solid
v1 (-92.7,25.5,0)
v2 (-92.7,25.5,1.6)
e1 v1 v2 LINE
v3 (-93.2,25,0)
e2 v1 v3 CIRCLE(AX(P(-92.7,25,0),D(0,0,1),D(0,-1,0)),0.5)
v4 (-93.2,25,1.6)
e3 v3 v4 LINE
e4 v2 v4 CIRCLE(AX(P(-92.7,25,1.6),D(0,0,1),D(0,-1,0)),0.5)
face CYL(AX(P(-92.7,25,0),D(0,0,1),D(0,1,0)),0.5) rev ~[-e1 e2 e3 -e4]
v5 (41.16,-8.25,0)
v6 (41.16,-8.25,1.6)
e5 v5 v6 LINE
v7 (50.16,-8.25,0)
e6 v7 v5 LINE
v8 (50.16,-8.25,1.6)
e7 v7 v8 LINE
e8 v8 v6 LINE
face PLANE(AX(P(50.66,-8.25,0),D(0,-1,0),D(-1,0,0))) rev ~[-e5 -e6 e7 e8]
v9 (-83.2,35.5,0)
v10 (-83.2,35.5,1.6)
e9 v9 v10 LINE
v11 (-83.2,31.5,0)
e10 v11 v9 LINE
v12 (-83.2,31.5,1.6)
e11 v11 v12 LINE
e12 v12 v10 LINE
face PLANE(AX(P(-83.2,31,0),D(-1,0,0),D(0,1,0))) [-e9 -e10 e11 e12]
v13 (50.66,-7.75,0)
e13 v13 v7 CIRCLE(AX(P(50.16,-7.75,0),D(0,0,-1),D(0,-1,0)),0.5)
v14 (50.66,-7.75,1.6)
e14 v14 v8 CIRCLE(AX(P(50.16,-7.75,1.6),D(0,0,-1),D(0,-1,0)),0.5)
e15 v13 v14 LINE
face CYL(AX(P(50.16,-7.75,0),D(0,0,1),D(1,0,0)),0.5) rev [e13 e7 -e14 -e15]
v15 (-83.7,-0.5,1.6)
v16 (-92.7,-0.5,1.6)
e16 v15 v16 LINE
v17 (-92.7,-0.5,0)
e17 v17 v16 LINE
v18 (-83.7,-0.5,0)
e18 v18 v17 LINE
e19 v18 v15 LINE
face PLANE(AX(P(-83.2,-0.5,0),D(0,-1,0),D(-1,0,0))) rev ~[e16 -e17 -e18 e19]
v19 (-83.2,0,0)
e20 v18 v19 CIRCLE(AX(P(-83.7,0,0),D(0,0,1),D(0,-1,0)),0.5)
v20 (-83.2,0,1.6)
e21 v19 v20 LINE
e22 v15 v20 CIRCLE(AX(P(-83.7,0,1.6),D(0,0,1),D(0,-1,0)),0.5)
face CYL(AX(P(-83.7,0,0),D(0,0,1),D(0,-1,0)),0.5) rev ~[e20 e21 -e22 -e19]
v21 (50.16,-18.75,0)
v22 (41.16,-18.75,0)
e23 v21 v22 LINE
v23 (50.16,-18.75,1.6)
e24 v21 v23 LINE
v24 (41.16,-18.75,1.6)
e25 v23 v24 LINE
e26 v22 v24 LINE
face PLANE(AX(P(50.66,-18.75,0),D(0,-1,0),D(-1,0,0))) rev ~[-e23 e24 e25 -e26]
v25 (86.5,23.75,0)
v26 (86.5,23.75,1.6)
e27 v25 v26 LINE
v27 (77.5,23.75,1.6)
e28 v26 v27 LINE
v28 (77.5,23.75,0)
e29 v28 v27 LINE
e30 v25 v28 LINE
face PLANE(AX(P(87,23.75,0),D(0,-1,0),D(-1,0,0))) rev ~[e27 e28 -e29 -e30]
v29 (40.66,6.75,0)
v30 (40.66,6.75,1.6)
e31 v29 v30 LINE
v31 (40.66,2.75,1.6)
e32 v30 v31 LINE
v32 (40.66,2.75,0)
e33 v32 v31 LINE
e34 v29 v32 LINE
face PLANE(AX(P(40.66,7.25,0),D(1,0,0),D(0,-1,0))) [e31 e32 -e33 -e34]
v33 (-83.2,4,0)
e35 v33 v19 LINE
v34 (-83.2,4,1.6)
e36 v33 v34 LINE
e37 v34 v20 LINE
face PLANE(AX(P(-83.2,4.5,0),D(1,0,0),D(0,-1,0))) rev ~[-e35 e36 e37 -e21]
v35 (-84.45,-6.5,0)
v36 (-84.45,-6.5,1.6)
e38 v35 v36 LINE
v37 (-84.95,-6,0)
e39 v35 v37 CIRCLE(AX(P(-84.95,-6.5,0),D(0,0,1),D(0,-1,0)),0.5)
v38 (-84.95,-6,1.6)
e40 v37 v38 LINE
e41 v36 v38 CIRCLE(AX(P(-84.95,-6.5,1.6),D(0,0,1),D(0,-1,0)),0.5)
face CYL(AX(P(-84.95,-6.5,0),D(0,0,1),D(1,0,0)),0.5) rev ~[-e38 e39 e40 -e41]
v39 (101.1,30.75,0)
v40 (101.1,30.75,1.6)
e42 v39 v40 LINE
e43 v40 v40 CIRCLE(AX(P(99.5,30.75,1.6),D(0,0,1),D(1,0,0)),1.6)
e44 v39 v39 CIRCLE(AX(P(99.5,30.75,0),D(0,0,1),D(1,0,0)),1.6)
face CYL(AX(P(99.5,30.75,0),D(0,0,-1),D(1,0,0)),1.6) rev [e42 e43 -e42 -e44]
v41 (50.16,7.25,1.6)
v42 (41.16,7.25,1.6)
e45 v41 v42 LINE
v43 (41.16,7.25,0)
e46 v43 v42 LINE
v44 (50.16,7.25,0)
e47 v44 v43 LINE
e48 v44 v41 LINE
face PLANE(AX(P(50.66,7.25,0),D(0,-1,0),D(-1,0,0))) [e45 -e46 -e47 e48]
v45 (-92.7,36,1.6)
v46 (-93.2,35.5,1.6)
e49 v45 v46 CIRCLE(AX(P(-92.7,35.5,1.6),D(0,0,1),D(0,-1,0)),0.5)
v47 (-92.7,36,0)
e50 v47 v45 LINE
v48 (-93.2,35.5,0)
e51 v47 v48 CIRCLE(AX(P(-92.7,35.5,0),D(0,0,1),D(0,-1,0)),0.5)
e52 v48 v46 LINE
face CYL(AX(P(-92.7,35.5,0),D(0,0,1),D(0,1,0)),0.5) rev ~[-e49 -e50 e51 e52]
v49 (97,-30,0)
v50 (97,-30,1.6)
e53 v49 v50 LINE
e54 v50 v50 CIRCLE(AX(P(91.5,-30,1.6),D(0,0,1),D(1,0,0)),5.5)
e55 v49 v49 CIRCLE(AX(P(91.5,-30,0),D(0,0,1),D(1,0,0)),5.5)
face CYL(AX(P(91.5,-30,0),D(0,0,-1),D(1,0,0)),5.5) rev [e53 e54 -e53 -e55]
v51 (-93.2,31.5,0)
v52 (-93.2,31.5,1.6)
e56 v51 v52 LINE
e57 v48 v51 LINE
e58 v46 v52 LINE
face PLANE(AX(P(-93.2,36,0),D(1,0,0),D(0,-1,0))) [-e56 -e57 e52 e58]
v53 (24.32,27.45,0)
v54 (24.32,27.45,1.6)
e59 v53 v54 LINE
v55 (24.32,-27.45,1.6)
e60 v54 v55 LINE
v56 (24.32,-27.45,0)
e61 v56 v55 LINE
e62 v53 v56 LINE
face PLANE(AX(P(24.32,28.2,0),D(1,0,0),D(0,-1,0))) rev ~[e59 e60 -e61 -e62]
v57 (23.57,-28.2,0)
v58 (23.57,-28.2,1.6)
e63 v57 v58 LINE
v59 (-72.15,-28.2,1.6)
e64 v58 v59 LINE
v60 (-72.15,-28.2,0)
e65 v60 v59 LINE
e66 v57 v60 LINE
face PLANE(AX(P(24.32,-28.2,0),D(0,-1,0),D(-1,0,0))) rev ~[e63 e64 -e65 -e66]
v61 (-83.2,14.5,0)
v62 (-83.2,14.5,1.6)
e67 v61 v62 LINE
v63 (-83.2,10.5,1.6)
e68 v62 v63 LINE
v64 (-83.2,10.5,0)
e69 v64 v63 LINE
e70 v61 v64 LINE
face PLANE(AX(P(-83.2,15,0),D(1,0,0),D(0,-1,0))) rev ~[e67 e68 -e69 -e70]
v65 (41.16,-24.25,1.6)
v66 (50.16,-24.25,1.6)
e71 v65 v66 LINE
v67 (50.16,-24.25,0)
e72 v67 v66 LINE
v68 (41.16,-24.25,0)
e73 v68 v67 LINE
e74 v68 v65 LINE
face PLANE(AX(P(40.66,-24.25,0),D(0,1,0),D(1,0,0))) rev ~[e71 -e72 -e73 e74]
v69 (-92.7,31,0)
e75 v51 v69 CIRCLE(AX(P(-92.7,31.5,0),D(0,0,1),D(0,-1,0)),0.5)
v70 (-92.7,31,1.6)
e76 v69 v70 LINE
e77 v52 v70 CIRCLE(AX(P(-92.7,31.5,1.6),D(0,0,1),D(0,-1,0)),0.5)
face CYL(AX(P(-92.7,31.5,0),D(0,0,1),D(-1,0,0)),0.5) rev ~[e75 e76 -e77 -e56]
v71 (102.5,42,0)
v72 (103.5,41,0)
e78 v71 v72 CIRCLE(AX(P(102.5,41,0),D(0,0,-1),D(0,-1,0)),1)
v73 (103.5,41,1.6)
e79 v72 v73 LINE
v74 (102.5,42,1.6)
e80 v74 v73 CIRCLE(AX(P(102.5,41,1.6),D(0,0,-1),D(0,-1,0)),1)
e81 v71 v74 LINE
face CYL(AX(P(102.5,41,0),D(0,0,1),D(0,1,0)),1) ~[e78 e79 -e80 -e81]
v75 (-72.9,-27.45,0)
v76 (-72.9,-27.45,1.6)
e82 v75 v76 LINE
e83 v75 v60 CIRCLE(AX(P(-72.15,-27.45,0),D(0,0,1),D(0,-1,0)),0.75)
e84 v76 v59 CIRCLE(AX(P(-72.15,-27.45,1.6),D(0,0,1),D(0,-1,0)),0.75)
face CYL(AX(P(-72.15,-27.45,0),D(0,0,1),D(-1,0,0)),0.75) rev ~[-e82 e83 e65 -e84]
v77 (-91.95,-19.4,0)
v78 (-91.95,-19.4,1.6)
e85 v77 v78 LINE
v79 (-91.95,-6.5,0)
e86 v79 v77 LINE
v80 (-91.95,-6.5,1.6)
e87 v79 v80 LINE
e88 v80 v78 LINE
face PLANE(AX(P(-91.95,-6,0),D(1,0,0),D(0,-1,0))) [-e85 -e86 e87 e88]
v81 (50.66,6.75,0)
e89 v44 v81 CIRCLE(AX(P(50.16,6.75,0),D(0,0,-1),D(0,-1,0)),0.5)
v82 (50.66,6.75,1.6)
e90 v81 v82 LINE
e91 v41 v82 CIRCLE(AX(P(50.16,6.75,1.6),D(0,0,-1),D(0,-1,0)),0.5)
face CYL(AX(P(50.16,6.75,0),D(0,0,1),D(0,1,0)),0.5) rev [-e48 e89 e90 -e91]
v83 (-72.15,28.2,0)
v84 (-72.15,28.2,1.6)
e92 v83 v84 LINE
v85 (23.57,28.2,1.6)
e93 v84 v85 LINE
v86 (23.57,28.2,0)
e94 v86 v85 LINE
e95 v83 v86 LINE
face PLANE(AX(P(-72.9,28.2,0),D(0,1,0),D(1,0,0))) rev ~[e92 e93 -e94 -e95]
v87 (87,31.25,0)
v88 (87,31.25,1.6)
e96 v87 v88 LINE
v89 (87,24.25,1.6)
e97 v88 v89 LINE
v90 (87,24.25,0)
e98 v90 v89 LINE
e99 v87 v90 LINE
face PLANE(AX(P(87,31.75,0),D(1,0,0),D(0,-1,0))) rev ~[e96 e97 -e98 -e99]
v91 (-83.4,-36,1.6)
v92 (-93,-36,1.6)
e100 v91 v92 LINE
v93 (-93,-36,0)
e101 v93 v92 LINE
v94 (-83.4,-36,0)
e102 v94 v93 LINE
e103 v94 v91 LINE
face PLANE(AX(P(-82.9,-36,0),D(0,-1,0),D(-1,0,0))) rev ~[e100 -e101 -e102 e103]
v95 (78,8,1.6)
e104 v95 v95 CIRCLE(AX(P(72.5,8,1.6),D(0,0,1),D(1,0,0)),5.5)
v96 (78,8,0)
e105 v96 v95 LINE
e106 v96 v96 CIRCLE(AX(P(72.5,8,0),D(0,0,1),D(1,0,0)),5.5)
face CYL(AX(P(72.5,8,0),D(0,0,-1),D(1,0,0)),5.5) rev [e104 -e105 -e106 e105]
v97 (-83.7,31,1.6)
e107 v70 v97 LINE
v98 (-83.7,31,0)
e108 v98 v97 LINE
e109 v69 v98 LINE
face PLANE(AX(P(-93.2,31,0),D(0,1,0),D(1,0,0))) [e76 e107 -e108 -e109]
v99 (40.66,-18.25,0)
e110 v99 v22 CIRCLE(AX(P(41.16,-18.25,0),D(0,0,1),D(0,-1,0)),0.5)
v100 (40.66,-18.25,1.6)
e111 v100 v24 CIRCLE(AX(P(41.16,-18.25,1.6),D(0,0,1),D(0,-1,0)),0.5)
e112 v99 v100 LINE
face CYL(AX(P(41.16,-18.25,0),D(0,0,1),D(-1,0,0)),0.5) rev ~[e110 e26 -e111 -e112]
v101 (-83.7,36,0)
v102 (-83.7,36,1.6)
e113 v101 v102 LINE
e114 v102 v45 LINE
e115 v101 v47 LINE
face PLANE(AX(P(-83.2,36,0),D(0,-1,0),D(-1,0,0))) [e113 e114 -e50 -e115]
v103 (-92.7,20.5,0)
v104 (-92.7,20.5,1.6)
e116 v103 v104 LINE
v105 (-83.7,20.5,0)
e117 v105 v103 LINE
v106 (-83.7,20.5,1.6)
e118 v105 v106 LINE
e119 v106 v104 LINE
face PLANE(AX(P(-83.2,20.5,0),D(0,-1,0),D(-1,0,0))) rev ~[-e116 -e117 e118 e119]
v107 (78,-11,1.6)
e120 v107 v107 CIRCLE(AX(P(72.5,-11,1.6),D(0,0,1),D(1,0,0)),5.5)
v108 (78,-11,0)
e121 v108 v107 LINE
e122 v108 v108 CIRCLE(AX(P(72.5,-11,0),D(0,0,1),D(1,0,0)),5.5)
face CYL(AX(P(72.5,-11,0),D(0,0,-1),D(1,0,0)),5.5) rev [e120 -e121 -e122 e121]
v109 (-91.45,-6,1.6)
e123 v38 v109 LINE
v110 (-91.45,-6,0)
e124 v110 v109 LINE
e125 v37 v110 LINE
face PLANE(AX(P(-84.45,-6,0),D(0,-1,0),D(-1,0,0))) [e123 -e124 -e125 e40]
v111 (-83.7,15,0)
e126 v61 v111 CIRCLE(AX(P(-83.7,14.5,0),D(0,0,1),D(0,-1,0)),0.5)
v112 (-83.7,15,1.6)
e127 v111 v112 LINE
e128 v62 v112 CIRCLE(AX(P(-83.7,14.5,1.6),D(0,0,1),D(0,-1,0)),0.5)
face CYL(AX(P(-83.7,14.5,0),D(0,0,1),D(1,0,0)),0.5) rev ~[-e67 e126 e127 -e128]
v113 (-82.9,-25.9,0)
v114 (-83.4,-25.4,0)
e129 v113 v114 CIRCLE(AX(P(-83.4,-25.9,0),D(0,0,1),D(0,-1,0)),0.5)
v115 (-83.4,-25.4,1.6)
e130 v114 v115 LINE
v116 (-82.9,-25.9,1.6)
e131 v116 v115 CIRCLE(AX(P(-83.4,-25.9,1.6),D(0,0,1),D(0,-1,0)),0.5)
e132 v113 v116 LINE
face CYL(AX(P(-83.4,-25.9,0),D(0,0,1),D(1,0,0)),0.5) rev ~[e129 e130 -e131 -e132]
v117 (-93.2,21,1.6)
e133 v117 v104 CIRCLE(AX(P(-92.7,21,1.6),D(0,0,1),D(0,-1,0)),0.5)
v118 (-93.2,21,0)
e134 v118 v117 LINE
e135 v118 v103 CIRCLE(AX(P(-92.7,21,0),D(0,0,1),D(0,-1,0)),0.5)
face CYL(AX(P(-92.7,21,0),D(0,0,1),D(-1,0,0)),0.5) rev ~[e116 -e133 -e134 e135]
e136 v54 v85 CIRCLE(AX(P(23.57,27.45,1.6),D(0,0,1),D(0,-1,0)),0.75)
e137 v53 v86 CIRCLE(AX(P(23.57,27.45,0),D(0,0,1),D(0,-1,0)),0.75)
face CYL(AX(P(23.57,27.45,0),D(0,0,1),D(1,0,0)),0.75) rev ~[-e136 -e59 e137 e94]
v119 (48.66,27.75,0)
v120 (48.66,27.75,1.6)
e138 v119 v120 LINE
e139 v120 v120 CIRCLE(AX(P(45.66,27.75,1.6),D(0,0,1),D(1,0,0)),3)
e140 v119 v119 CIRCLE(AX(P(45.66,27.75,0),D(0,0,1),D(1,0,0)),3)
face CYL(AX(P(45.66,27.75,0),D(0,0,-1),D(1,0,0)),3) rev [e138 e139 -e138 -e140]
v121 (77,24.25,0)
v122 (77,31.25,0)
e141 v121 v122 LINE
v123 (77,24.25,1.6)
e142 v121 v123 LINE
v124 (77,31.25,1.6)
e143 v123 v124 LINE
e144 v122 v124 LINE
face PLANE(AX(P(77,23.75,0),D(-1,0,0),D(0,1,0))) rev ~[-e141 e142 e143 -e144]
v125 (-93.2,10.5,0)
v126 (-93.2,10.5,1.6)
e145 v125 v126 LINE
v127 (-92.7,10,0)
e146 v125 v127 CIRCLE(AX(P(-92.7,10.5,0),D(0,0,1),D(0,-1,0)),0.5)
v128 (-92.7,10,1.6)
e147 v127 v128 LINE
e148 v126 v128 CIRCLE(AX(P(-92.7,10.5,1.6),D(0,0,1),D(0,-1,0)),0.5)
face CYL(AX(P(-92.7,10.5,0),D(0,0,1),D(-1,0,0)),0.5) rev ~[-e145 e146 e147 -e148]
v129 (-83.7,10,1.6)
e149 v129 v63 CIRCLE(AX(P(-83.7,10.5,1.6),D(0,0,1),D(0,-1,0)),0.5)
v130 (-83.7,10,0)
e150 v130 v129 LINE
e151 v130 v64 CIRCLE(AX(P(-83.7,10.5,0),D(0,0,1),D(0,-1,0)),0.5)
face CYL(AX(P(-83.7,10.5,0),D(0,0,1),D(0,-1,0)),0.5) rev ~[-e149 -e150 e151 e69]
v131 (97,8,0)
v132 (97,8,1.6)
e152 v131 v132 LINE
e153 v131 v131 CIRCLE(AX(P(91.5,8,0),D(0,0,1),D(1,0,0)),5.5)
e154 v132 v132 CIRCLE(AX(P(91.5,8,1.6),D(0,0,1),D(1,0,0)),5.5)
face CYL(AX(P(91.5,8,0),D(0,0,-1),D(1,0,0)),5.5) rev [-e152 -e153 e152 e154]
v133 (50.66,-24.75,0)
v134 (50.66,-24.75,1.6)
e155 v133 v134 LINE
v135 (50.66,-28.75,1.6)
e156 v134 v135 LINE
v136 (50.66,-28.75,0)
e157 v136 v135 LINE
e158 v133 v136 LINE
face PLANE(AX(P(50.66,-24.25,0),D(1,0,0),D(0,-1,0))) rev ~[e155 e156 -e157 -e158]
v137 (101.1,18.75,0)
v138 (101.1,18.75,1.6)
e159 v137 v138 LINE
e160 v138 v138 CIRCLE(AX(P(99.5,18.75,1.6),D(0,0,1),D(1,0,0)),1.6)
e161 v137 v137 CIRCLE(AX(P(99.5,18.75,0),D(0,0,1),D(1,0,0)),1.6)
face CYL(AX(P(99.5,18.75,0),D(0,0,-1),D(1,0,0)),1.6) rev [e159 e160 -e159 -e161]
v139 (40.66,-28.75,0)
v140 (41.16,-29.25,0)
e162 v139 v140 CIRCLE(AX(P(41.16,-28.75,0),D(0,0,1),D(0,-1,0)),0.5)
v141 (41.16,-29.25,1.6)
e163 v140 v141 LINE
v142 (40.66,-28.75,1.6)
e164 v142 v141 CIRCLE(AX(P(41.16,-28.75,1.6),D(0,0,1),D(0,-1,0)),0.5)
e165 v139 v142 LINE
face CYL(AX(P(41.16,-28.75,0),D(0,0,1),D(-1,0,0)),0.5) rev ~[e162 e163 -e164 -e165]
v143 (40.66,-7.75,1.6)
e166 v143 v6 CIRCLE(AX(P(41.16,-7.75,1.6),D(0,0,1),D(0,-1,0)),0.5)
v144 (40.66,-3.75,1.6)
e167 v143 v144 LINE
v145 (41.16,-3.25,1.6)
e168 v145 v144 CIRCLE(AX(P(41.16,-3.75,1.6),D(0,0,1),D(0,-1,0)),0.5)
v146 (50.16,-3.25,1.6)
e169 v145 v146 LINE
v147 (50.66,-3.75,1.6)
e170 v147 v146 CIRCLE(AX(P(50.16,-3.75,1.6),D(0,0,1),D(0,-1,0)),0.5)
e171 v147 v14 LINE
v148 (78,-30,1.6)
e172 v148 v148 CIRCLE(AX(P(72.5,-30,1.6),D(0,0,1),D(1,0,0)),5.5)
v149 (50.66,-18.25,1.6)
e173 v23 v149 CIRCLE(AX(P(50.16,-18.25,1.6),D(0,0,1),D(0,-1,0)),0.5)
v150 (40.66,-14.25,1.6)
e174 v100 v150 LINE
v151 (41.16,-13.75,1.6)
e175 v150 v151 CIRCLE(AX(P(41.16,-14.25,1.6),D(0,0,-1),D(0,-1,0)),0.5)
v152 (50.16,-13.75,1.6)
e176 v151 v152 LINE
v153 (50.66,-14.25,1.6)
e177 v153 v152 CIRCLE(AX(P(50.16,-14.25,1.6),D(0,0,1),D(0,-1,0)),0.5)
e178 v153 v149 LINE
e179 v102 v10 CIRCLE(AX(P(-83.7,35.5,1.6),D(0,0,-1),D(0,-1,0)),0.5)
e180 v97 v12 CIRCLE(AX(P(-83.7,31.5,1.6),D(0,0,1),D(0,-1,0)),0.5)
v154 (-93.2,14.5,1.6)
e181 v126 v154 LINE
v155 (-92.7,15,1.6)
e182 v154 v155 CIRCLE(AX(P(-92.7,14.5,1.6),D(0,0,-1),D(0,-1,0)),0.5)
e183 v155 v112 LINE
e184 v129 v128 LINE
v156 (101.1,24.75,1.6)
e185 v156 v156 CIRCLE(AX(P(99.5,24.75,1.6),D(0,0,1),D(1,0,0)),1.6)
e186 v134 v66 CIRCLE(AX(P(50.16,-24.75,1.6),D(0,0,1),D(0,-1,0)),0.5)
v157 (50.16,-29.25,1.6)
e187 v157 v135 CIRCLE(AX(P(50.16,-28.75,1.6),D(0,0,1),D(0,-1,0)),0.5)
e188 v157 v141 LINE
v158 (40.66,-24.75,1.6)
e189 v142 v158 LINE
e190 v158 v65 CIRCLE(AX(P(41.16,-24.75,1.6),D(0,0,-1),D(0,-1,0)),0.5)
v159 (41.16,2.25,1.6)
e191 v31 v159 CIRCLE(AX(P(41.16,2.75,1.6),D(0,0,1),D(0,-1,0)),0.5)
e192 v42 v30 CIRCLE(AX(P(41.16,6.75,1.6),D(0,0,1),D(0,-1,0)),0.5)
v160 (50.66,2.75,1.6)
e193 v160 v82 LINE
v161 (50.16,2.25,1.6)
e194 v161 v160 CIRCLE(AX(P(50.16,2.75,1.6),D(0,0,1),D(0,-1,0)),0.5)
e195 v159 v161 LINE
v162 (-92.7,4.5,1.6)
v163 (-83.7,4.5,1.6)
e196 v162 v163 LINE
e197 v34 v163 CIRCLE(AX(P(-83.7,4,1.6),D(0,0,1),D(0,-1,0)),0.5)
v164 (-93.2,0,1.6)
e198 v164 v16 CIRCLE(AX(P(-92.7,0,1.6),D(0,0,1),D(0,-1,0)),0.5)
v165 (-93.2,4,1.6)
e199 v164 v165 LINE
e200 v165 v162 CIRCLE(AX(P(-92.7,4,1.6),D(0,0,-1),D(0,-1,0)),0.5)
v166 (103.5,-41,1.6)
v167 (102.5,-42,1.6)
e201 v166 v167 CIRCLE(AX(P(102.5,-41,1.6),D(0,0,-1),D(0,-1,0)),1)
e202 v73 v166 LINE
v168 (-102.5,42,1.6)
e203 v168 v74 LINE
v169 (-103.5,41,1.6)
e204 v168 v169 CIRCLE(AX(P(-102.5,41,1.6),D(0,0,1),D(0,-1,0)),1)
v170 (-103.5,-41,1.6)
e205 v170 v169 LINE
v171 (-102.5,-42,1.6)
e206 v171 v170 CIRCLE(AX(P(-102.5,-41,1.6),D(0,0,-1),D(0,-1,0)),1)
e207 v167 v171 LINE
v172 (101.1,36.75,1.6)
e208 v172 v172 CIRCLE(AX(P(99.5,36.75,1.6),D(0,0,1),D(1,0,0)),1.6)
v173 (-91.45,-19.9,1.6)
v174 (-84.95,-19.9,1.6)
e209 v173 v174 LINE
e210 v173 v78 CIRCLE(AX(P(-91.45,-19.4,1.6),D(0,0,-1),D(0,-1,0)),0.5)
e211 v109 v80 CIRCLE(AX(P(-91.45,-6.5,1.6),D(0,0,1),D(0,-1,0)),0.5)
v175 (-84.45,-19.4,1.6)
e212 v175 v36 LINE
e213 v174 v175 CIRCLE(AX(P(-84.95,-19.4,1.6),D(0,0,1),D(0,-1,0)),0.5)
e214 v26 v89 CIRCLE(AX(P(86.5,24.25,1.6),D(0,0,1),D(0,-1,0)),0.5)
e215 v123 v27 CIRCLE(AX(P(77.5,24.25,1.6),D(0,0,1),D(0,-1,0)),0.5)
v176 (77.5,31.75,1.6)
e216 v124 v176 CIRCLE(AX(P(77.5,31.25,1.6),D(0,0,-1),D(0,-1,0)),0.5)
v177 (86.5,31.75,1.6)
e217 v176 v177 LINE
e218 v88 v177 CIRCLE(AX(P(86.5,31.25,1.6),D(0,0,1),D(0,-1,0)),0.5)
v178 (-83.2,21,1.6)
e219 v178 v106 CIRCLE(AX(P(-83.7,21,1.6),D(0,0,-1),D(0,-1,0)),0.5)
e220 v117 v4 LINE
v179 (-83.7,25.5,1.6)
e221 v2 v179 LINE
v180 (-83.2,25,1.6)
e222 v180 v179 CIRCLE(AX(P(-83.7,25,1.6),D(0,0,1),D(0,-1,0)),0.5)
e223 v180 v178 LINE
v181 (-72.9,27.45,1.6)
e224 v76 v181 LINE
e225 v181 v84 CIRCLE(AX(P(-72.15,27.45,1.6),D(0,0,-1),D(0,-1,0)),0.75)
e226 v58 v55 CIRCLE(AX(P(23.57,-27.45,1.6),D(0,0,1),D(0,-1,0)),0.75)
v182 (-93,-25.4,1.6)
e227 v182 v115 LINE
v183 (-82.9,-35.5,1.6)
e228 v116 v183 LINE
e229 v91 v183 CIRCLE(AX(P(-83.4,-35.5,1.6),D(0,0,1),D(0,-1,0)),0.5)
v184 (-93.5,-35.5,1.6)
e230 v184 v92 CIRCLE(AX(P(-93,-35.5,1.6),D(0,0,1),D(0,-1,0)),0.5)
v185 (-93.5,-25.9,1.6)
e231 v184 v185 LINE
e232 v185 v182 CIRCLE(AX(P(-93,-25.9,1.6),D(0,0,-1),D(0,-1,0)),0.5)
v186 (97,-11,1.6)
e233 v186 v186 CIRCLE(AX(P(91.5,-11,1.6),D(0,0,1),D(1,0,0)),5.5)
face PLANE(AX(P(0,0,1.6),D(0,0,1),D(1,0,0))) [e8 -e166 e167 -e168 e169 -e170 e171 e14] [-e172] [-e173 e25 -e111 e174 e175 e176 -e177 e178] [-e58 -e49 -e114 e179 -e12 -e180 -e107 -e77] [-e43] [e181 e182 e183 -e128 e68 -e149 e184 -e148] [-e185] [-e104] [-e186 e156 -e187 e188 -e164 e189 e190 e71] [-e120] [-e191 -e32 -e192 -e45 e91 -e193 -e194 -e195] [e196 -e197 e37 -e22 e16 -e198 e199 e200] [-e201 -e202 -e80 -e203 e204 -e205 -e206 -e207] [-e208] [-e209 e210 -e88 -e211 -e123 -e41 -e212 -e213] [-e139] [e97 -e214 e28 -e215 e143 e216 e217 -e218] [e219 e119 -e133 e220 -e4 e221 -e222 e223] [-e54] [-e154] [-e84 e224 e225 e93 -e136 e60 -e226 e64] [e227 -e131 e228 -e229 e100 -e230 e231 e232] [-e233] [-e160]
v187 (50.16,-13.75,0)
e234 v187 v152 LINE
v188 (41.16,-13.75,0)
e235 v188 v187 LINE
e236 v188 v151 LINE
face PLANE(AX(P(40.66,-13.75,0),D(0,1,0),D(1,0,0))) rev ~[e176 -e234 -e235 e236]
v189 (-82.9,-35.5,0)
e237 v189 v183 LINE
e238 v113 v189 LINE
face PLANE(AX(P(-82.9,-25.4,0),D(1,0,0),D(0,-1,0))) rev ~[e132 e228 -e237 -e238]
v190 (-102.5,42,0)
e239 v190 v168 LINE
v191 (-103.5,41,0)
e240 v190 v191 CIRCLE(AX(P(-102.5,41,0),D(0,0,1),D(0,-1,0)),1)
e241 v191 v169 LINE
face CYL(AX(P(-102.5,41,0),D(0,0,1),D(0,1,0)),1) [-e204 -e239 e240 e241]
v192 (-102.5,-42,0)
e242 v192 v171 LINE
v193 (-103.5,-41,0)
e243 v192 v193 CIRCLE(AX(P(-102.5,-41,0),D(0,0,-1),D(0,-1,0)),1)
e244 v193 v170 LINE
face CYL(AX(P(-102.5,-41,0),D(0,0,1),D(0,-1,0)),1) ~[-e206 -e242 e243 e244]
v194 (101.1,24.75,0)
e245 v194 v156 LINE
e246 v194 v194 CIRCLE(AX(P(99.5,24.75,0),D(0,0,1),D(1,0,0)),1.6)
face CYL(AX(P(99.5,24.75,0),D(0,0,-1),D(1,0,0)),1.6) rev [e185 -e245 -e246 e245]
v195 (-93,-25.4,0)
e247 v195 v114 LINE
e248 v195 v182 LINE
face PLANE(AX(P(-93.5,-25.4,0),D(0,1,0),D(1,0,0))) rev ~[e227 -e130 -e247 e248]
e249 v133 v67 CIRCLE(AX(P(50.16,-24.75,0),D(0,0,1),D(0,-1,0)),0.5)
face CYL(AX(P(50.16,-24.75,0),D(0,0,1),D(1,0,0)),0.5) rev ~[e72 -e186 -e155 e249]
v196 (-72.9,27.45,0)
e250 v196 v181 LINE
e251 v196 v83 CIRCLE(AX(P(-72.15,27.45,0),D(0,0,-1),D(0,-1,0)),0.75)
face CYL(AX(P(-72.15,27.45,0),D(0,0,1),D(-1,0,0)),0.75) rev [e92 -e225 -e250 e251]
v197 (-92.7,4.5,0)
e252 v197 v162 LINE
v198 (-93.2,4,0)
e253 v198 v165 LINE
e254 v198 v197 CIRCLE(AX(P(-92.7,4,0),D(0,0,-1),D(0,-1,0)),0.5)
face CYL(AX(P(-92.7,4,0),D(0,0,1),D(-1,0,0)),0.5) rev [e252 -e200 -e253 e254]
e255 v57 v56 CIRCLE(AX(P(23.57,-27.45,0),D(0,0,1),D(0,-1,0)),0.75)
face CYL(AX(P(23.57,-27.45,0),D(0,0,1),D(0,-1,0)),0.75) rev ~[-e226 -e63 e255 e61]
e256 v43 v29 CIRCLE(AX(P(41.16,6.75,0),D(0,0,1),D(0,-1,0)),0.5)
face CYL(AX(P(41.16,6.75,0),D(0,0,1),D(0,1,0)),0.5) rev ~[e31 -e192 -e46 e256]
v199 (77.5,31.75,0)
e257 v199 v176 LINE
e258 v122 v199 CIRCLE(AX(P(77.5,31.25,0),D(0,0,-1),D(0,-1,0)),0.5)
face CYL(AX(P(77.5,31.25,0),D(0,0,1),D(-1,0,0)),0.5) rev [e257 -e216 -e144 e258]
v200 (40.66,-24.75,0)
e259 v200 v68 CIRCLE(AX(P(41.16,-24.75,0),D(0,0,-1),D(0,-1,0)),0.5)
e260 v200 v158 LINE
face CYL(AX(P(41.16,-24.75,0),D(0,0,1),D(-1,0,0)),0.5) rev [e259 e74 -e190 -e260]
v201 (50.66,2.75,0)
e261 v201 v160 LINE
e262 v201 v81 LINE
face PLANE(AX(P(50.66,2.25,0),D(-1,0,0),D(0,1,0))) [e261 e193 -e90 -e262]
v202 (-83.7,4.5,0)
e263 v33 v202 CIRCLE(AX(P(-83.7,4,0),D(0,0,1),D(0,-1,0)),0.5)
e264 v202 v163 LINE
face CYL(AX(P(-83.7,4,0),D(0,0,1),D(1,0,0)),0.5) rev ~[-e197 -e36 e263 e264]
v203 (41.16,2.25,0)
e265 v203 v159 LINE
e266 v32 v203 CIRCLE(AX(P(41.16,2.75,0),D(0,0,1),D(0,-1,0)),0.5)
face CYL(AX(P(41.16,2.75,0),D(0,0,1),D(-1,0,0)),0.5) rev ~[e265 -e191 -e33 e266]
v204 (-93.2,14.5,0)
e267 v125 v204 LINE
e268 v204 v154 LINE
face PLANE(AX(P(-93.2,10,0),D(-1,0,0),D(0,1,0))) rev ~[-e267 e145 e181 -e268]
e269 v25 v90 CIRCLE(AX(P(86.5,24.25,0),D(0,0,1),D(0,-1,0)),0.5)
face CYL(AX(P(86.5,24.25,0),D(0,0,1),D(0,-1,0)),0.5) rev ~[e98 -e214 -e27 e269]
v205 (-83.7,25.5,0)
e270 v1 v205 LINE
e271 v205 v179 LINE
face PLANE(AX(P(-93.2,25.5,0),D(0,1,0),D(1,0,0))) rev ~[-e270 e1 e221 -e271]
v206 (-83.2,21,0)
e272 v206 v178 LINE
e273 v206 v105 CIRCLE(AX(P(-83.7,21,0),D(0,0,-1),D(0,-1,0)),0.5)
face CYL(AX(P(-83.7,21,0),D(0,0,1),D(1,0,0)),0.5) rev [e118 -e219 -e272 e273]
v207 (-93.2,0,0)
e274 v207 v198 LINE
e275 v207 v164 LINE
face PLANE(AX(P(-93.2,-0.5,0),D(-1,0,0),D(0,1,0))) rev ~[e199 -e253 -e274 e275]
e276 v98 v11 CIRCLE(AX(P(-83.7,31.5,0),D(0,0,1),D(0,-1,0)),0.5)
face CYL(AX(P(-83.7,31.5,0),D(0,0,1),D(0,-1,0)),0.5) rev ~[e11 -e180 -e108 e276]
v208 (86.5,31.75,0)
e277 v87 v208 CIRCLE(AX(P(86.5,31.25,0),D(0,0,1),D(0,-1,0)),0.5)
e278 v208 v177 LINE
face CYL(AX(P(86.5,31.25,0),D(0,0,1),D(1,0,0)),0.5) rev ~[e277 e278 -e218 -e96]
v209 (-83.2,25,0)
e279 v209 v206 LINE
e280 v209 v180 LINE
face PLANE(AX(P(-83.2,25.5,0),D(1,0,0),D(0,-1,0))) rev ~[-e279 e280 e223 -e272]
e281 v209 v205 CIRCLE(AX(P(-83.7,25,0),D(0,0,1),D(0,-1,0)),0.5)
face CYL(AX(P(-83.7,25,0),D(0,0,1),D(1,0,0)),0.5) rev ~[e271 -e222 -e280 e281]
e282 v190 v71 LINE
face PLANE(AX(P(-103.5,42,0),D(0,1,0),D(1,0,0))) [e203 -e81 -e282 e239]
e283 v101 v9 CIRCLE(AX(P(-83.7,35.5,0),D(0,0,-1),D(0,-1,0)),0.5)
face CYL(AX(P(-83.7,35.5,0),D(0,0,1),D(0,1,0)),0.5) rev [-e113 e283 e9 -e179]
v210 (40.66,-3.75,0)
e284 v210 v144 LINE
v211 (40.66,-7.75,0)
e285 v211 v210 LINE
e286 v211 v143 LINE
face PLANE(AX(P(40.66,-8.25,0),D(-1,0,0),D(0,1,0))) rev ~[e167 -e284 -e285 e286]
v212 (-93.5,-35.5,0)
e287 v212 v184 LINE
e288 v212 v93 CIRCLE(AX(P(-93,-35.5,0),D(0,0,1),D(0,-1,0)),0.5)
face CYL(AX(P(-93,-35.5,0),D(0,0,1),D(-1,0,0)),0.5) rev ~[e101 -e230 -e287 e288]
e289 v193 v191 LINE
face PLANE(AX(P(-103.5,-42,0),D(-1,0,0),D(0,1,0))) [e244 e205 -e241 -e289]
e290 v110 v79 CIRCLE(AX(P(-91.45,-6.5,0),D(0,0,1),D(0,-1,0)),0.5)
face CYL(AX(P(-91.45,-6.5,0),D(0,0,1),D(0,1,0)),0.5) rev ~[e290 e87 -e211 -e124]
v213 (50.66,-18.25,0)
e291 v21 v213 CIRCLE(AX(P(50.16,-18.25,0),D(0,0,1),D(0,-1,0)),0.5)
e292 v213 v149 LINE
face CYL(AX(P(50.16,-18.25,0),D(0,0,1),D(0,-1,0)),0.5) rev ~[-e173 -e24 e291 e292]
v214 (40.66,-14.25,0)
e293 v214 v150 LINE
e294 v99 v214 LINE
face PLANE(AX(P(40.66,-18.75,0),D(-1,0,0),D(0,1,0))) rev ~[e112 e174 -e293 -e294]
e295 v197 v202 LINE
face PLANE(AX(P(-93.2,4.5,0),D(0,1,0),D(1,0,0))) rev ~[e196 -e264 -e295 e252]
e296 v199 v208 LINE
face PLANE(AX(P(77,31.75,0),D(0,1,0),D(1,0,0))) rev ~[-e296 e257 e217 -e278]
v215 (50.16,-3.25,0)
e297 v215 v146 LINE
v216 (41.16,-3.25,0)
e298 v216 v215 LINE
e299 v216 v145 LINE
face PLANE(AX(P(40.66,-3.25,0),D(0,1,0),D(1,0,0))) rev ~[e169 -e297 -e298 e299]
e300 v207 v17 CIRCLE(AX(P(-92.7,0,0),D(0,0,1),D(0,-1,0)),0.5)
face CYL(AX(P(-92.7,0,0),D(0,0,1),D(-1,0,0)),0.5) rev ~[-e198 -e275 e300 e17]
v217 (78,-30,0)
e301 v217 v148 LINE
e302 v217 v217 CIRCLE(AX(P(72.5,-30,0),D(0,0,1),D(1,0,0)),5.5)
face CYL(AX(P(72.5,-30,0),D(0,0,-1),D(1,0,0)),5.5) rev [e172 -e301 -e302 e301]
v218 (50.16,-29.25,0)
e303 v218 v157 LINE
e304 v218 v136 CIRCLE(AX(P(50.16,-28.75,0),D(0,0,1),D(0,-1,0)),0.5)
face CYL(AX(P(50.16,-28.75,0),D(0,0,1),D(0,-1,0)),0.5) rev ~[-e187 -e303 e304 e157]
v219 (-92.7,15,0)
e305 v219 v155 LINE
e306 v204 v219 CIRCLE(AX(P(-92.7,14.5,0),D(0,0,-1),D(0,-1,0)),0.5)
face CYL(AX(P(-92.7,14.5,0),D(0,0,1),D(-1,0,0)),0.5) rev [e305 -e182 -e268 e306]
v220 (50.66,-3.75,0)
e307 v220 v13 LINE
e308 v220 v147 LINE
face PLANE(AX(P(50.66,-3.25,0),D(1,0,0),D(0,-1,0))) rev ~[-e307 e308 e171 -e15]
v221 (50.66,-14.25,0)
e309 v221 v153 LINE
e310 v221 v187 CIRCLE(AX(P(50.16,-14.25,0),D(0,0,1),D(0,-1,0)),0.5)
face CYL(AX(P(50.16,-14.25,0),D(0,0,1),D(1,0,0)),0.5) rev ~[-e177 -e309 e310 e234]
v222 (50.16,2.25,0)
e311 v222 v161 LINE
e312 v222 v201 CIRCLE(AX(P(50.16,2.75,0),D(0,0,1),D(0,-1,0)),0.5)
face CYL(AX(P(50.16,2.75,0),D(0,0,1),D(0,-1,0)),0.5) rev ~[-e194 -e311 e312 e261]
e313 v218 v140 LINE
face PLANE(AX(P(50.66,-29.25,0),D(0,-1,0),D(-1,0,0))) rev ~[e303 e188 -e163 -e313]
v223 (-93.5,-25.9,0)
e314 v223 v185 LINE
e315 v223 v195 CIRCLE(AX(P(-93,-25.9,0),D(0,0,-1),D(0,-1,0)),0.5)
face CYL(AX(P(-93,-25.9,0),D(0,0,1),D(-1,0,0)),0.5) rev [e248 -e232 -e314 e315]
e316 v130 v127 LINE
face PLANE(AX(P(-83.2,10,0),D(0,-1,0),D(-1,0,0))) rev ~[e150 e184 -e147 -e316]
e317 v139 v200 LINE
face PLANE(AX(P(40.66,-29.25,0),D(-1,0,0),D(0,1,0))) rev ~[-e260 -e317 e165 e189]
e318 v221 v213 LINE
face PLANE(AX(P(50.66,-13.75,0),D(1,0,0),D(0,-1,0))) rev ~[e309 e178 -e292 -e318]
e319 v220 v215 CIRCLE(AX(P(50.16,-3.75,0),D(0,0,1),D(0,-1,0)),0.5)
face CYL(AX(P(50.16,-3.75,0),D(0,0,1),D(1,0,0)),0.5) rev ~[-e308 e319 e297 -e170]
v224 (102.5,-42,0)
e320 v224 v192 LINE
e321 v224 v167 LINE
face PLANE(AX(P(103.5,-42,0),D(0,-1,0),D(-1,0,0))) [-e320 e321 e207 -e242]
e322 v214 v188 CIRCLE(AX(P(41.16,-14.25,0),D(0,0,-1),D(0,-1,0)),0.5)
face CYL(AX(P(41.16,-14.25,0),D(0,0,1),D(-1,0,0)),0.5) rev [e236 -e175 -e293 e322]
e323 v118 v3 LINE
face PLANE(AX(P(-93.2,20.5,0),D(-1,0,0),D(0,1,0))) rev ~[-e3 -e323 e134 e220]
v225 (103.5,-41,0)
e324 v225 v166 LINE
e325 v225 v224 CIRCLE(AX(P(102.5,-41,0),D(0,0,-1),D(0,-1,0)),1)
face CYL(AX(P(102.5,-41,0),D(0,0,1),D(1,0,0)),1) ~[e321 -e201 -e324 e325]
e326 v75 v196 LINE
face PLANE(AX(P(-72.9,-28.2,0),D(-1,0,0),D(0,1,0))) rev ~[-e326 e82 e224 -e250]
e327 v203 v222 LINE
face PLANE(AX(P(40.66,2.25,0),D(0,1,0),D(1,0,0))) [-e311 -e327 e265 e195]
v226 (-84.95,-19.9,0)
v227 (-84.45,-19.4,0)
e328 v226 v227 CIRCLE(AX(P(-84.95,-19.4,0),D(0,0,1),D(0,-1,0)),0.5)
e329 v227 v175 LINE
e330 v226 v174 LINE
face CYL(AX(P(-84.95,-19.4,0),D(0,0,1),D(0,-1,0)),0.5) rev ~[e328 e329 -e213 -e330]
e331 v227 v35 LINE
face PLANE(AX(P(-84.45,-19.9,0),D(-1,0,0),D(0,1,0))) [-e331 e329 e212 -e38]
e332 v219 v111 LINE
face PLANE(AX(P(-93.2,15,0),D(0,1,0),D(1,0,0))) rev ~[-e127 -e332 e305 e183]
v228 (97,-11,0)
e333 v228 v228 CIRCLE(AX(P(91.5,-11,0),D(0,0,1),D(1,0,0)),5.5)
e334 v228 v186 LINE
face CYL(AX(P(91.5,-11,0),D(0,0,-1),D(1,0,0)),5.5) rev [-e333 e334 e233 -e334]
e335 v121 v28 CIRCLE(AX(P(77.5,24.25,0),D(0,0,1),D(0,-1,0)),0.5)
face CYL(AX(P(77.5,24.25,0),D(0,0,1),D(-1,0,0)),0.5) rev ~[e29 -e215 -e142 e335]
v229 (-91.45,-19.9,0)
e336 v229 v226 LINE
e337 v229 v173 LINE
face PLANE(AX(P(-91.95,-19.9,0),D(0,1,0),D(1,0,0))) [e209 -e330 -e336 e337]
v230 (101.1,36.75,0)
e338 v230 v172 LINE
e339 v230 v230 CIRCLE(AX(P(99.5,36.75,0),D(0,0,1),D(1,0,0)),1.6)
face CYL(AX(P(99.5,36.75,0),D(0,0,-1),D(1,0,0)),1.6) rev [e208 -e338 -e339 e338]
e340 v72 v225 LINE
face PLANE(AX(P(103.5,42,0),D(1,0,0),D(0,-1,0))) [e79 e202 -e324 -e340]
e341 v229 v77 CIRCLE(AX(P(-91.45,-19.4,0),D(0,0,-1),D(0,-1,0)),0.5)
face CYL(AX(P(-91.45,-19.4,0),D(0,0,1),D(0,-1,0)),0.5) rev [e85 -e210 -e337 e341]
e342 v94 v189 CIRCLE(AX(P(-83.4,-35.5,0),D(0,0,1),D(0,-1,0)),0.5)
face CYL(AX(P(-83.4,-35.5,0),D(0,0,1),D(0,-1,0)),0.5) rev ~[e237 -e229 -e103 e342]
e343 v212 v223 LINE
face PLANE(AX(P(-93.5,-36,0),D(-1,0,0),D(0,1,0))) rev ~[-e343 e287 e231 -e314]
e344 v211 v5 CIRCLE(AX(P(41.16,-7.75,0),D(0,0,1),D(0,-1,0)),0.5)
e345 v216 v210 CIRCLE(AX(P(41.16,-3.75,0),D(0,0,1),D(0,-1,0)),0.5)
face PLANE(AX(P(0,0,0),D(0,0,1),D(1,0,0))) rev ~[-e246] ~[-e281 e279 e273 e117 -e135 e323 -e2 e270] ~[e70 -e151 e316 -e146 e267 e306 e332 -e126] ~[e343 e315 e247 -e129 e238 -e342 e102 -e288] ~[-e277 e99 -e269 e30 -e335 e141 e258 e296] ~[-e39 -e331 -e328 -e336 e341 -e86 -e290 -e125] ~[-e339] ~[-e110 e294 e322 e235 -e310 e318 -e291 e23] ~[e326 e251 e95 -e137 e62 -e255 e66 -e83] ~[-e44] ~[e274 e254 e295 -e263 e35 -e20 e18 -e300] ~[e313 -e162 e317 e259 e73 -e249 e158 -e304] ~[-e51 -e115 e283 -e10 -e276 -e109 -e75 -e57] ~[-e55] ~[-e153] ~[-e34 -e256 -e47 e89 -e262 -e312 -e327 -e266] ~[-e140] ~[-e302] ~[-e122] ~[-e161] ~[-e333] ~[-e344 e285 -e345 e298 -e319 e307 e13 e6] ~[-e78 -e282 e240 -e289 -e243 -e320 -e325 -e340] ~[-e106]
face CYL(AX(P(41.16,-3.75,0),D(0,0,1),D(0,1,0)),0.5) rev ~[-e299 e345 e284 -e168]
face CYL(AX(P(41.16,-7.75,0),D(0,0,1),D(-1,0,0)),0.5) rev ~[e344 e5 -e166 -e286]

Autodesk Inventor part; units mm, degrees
ref_plane "YZ Plane" through (0, 0, 0) normal (1, 0, 0) x (0, 1, 0)
ref_plane "XZ Plane" through (0, 0, 0) normal (0, 1, 0) x (-1, 0, 0)
ref_plane "XY Plane" through (0, 0, 0) normal (0, 0, 1) x (1, 0, 0)
sketch "Sketch1" plane through (0, 0, 0) normal (0, 0, 1) x (1, 0, 0)
  line L0 (-103.5, 42) -> (103.5, 42)
  line L1 (103.5, 42) -> (103.5, -42)
  line L2 (103.5, -42) -> (-103.5, -42)
  line L3 (-103.5, -42) -> (-103.5, 42)
  line L4 (-103.5, 42) -> (103.5, -42) construction
  line L5 (103.5, 42) -> (-103.5, -42) construction
  line L6 (-72.9, 28.2) -> (24.32, 28.2)
  line L7 (24.32, 28.2) -> (24.32, -28.2)
  line L8 (24.32, -28.2) -> (-72.9, -28.2)
  line L9 (-72.9, -28.2) -> (-72.9, 28.2)
  line L10 (-72.9, 28.2) -> (24.32, -28.2) construction
  line L11 (24.32, 28.2) -> (-72.9, -28.2) construction
  line L12 (-93.5, -25.4) -> (-82.9, -25.4)
  line L13 (-82.9, -25.4) -> (-82.9, -36)
  line L14 (-82.9, -36) -> (-93.5, -36)
  line L15 (-93.5, -36) -> (-93.5, -25.4)
  line L16 (-93.5, -25.4) -> (-82.9, -36) construction
  line L17 (-82.9, -25.4) -> (-93.5, -36) construction
  circle A0 centre (72.5, 8) radius 5.5
  circle A1 centre (91.5, 8) radius 5.5
  circle A2 centre (72.5, -11) radius 5.5
  circle A3 centre (91.5, -11) radius 5.5
  circle A4 centre (72.5, -30) radius 5.5
  circle A5 centre (91.5, -30) radius 5.5
  line L18 (-71.81, 26.93) -> (23.23, 26.93) construction
  line L19 (23.23, 26.93) -> (23.23, -26.93) construction
  line L20 (23.23, -26.93) -> (-71.81, -26.93) construction
  line L21 (-71.81, -26.93) -> (-71.81, 26.93) construction
  line L22 (-71.81, 26.93) -> (23.23, -26.93) construction
  line L23 (23.23, 26.93) -> (-71.81, -26.93) construction
  line L24 (-77, 32.18) -> (28.42, 32.18) construction
  line L25 (28.42, 32.18) -> (28.42, -34.89) construction
  line L26 (28.42, -34.89) -> (-77, -34.89) construction
  line L27 (-77, -34.89) -> (-77, 32.18) construction
  line L28 (-77, 32.18) -> (28.42, -34.89) construction
  line L29 (28.42, 32.18) -> (-77, -34.89) construction
  line L30 (-91.95, -19.9) -> (-84.45, -19.9)
  line L31 (-84.45, -19.9) -> (-84.45, -6)
  line L32 (-84.45, -6) -> (-91.95, -6)
  line L33 (-91.95, -6) -> (-91.95, -19.9)
  line L34 (-91.95, -19.9) -> (-84.45, -6) construction
  line L35 (-84.45, -19.9) -> (-91.95, -6) construction
  line L36 (-93.2, 4.5) -> (-83.2, 4.5)
  line L37 (-83.2, 4.5) -> (-83.2, -0.5)
  line L38 (-83.2, -0.5) -> (-93.2, -0.5)
  line L39 (-93.2, -0.5) -> (-93.2, 4.5)
  line L40 (-93.2, 4.5) -> (-83.2, -0.5) construction
  line L41 (-83.2, 4.5) -> (-93.2, -0.5) construction
  line L42 (-93.2, 15) -> (-83.2, 15)
  line L43 (-83.2, 15) -> (-83.2, 10)
  line L44 (-83.2, 10) -> (-93.2, 10)
  line L45 (-93.2, 10) -> (-93.2, 15)
  line L46 (-93.2, 15) -> (-83.2, 10) construction
  line L47 (-83.2, 15) -> (-93.2, 10) construction
  line L48 (-83.2, 20.5) -> (-93.2, 20.5)
  line L49 (-93.2, 20.5) -> (-93.2, 25.5)
  line L50 (-93.2, 25.5) -> (-83.2, 25.5)
  line L51 (-83.2, 25.5) -> (-83.2, 20.5)
  line L52 (-83.2, 20.5) -> (-93.2, 25.5) construction
  line L53 (-93.2, 20.5) -> (-83.2, 25.5) construction
  line L54 (-83.2, 36) -> (-93.2, 36)
  line L55 (-93.2, 36) -> (-93.2, 31)
  line L56 (-93.2, 31) -> (-83.2, 31)
  line L57 (-83.2, 31) -> (-83.2, 36)
  line L58 (-83.2, 36) -> (-93.2, 31) construction
  line L59 (-93.2, 36) -> (-83.2, 31) construction
  circle A6 centre (45.66, 27.75) radius 11 construction
  line L60 (67, 8) -> (67, -30) construction
  line L61 (24.32, -22.183) -> (67, -22.183) construction
  line L62 (72.5, 13.5) -> (91.5, 13.5) construction
  line L63 (82, 13.5) -> (82, 42) construction
  line L64 (77, 31.75) -> (87, 31.75)
  line L65 (87, 31.75) -> (87, 23.75)
  line L66 (87, 23.75) -> (77, 23.75)
  line L67 (77, 23.75) -> (77, 31.75)
  line L68 (77, 31.75) -> (87, 23.75) construction
  line L69 (87, 31.75) -> (77, 23.75) construction
  circle A7 centre (99.5, 36.75) radius 1.6
  circle A8 centre (99.5, 30.75) radius 1.6
  circle A9 centre (99.5, 24.75) radius 1.6
  circle A10 centre (99.5, 18.75) radius 1.6
  line L70 (99.5, 30.75) -> (99.5, 24.75) construction
  line L71 (40.66, -24.25) -> (50.66, -24.25)
  line L72 (50.66, -24.25) -> (50.66, -29.25)
  line L73 (50.66, -29.25) -> (40.66, -29.25)
  line L74 (40.66, -29.25) -> (40.66, -24.25)
  line L75 (40.66, -24.25) -> (50.66, -29.25) construction
  line L76 (50.66, -24.25) -> (40.66, -29.25) construction
  line L77 (40.66, -13.75) -> (50.66, -13.75)
  line L78 (50.66, -13.75) -> (50.66, -18.75)
  line L79 (50.66, -18.75) -> (40.66, -18.75)
  line L80 (40.66, -18.75) -> (40.66, -13.75)
  line L81 (40.66, -13.75) -> (50.66, -18.75) construction
  line L82 (50.66, -13.75) -> (40.66, -18.75) construction
  line L83 (50.66, -8.25) -> (40.66, -8.25)
  line L84 (40.66, -8.25) -> (40.66, -3.25)
  line L85 (40.66, -3.25) -> (50.66, -3.25)
  line L86 (50.66, -3.25) -> (50.66, -8.25)
  line L87 (50.66, -8.25) -> (40.66, -3.25) construction
  line L88 (40.66, -8.25) -> (50.66, -3.25) construction
  line L89 (50.66, 7.25) -> (40.66, 7.25)
  line L90 (40.66, 7.25) -> (40.66, 2.25)
  line L91 (40.66, 2.25) -> (50.66, 2.25)
  line L92 (50.66, 2.25) -> (50.66, 7.25)
  line L93 (50.66, 7.25) -> (40.66, 2.25) construction
  line L94 (40.66, 7.25) -> (50.66, 2.25) construction
  line L95 (45.66, -8.25) -> (45.66, -13.75) construction
  circle A11 centre (45.66, 27.75) radius 3
  point P0 (0, 0)
  point P1 (-24.29, 0)
  point P2 (0, 0)
  point P3 (-24.29, 0)
  point P4 (-88.2, -30.7)
  point P5 (-24.29, -1.355)
  point P6 (-88.2, -12.95)
  point P7 (-88.2, 2)
  point P8 (-88.2, 12.5)
  point P9 (-88.2, 23)
  point P10 (-88.2, 33.5)
  point P11 (-88.2, -12.95)
  point P12 (-88.2, -30.7)
  point P13 (-88.2, -12.95)
  point P14 (-88.2, 2)
  point P15 (-88.2, 2)
  point P16 (-88.2, 12.5)
  point P17 (-88.2, 12.5)
  point P18 (-88.2, 23)
  point P19 (-88.2, 23)
  point P20 (-88.2, 33.5)
  point P21 (45.66, -22.183)
  point P22 (82, 27.75)
  point P23 (87, 27.75)
  point P24 (99.5, 27.75)
  point P25 (45.66, -26.75)
  point P26 (45.66, -16.25)
  point P27 (45.66, -5.75)
  point P28 (45.66, 4.75)
  point P29 (45.66, -26.75)
  point P30 (45.66, -26.75)
  point P31 (45.66, -16.25)
  point P32 (45.66, -16.25)
  point P33 (45.66, -5.75)
  point P34 (45.66, -5.75)
  point P35 (45.66, 4.75)
  point P36 (45.66, 4.75)
  point P37 (45.66, -11)
  dimension "d11" = 11
  dimension "d0" = 207
  dimension "d1" = 84
  dimension "d4" = 56.4
  dimension "d5" = 97.22
  dimension "d6" = 10.6
  dimension "d7" = 10
  dimension "d8" = 6
  dimension "d9" = 19
  dimension "d10" = 19
  dimension "d12" = 19
  dimension "d13" = 95.04
  dimension "d14" = 53.86
  dimension "d15" = 5.19
  dimension "d16" = 3.98
  dimension "d17" = 67.07
  dimension "d18" = 105.42
  dimension "d21" = 10
  dimension "d22" = 12
  dimension "d23" = 12
  dimension "d24" = 13.9
  dimension "d25" = 7.5
  dimension "d26" = 5.5
  dimension "d27" = 5
  dimension "d28" = 5.5
  dimension "d29" = 5.5
  dimension "d30" = 5.5
  dimension "d31" = 5.5
  dimension "d32" = 10
  dimension "d33" = 6
  dimension "d34" = 22
  dimension "d35" = 10
  dimension "d36" = 8
  dimension "d37" = 3.2
  dimension "d38" = 3.2
  dimension "d39" = 3.2
  dimension "d40" = 3.2
  dimension "d41" = 6
  dimension "d42" = 6
  dimension "d43" = 6
  dimension "d44" = 4
  dimension "d45" = 5
  dimension "d46" = 5.5
  dimension "d47" = 5.5
  dimension "d48" = 5.5
  dimension "d49" = 10
  dimension "d52" = 6
extrude "Extrusion2" add sketch "Sketch1" along normal blind 1.6
fillet "Fillet1" radius 1 4 edges at (-103.5, 42, 0.8) (103.5, 42, 0.8) (103.5, -42, 0.8) (-103.5, -42, 0.8)
fillet "Fillet2" radius 0.75 4 edges at (-72.9, 28.2, 0.8) (24.32, 28.2, 0.8) (24.32, -28.2, 0.8) (-72.9, -28.2, 0.8)
fillet "Fillet3" radius 0.5 44 edges at (77, 31.75, 0.8) (87, 31.75, 0.8) (87, 23.75, 0.8) (77, 23.75, 0.8) (40.66, 7.25, 0.8) (50.66, 7.25, 0.8) (50.66, 2.25, 0.8) (40.66, 2.25, 0.8) (40.66, -3.25, 0.8) (50.66, -3.25, 0.8) (50.66, -8.25, 0.8) (40.66, -8.25, 0.8) (50.66, -13.75, 0.8) (50.66, -18.75, 0.8) (40.66, -13.75, 0.8) (40.66, -18.75, 0.8) (40.66, -29.25, 0.8) (40.66, -24.25, 0.8) (50.66, -24.25, 0.8) (50.66, -29.25, 0.8) (-93.5, -25.4, 0.8) (-93.5, -36, 0.8) (-82.9, -36, 0.8) (-82.9, -25.4, 0.8) (-84.45, -19.9, 0.8) (-91.95, -19.9, 0.8) (-91.95, -6, 0.8) (-84.45, -6, 0.8) (-83.2, -0.5, 0.8) (-93.2, -0.5, 0.8) (-93.2, 4.5, 0.8) (-83.2, 4.5, 0.8) (-83.2, 10, 0.8) (-83.2, 15, 0.8) (-93.2, 15, 0.8) (-93.2, 10, 0.8) (-93.2, 20.5, 0.8) (-83.2, 20.5, 0.8) (-83.2, 25.5, 0.8) (-93.2, 25.5, 0.8) (-83.2, 31, 0.8) (-83.2, 36, 0.8) (-93.2, 36, 0.8) (-93.2, 31, 0.8)
equation "\"d12\" = d10"
equation "\"d21\" = d7"
equation "\"d28\" = d26"
equation "\"d29\" = d28"
equation "\"d30\" = d29"
equation "\"d31\" = d29"
equation "\"d42\" = d41"
equation "\"d43\" = d41"
equation "\"d46\" = d50"
equation "\"d47\" = d46"
equation "\"d48\" = d46"
equation "\"d50\" = d51"
equation "\"d51\" = 5.5"
properties part number "FrontPlate"
